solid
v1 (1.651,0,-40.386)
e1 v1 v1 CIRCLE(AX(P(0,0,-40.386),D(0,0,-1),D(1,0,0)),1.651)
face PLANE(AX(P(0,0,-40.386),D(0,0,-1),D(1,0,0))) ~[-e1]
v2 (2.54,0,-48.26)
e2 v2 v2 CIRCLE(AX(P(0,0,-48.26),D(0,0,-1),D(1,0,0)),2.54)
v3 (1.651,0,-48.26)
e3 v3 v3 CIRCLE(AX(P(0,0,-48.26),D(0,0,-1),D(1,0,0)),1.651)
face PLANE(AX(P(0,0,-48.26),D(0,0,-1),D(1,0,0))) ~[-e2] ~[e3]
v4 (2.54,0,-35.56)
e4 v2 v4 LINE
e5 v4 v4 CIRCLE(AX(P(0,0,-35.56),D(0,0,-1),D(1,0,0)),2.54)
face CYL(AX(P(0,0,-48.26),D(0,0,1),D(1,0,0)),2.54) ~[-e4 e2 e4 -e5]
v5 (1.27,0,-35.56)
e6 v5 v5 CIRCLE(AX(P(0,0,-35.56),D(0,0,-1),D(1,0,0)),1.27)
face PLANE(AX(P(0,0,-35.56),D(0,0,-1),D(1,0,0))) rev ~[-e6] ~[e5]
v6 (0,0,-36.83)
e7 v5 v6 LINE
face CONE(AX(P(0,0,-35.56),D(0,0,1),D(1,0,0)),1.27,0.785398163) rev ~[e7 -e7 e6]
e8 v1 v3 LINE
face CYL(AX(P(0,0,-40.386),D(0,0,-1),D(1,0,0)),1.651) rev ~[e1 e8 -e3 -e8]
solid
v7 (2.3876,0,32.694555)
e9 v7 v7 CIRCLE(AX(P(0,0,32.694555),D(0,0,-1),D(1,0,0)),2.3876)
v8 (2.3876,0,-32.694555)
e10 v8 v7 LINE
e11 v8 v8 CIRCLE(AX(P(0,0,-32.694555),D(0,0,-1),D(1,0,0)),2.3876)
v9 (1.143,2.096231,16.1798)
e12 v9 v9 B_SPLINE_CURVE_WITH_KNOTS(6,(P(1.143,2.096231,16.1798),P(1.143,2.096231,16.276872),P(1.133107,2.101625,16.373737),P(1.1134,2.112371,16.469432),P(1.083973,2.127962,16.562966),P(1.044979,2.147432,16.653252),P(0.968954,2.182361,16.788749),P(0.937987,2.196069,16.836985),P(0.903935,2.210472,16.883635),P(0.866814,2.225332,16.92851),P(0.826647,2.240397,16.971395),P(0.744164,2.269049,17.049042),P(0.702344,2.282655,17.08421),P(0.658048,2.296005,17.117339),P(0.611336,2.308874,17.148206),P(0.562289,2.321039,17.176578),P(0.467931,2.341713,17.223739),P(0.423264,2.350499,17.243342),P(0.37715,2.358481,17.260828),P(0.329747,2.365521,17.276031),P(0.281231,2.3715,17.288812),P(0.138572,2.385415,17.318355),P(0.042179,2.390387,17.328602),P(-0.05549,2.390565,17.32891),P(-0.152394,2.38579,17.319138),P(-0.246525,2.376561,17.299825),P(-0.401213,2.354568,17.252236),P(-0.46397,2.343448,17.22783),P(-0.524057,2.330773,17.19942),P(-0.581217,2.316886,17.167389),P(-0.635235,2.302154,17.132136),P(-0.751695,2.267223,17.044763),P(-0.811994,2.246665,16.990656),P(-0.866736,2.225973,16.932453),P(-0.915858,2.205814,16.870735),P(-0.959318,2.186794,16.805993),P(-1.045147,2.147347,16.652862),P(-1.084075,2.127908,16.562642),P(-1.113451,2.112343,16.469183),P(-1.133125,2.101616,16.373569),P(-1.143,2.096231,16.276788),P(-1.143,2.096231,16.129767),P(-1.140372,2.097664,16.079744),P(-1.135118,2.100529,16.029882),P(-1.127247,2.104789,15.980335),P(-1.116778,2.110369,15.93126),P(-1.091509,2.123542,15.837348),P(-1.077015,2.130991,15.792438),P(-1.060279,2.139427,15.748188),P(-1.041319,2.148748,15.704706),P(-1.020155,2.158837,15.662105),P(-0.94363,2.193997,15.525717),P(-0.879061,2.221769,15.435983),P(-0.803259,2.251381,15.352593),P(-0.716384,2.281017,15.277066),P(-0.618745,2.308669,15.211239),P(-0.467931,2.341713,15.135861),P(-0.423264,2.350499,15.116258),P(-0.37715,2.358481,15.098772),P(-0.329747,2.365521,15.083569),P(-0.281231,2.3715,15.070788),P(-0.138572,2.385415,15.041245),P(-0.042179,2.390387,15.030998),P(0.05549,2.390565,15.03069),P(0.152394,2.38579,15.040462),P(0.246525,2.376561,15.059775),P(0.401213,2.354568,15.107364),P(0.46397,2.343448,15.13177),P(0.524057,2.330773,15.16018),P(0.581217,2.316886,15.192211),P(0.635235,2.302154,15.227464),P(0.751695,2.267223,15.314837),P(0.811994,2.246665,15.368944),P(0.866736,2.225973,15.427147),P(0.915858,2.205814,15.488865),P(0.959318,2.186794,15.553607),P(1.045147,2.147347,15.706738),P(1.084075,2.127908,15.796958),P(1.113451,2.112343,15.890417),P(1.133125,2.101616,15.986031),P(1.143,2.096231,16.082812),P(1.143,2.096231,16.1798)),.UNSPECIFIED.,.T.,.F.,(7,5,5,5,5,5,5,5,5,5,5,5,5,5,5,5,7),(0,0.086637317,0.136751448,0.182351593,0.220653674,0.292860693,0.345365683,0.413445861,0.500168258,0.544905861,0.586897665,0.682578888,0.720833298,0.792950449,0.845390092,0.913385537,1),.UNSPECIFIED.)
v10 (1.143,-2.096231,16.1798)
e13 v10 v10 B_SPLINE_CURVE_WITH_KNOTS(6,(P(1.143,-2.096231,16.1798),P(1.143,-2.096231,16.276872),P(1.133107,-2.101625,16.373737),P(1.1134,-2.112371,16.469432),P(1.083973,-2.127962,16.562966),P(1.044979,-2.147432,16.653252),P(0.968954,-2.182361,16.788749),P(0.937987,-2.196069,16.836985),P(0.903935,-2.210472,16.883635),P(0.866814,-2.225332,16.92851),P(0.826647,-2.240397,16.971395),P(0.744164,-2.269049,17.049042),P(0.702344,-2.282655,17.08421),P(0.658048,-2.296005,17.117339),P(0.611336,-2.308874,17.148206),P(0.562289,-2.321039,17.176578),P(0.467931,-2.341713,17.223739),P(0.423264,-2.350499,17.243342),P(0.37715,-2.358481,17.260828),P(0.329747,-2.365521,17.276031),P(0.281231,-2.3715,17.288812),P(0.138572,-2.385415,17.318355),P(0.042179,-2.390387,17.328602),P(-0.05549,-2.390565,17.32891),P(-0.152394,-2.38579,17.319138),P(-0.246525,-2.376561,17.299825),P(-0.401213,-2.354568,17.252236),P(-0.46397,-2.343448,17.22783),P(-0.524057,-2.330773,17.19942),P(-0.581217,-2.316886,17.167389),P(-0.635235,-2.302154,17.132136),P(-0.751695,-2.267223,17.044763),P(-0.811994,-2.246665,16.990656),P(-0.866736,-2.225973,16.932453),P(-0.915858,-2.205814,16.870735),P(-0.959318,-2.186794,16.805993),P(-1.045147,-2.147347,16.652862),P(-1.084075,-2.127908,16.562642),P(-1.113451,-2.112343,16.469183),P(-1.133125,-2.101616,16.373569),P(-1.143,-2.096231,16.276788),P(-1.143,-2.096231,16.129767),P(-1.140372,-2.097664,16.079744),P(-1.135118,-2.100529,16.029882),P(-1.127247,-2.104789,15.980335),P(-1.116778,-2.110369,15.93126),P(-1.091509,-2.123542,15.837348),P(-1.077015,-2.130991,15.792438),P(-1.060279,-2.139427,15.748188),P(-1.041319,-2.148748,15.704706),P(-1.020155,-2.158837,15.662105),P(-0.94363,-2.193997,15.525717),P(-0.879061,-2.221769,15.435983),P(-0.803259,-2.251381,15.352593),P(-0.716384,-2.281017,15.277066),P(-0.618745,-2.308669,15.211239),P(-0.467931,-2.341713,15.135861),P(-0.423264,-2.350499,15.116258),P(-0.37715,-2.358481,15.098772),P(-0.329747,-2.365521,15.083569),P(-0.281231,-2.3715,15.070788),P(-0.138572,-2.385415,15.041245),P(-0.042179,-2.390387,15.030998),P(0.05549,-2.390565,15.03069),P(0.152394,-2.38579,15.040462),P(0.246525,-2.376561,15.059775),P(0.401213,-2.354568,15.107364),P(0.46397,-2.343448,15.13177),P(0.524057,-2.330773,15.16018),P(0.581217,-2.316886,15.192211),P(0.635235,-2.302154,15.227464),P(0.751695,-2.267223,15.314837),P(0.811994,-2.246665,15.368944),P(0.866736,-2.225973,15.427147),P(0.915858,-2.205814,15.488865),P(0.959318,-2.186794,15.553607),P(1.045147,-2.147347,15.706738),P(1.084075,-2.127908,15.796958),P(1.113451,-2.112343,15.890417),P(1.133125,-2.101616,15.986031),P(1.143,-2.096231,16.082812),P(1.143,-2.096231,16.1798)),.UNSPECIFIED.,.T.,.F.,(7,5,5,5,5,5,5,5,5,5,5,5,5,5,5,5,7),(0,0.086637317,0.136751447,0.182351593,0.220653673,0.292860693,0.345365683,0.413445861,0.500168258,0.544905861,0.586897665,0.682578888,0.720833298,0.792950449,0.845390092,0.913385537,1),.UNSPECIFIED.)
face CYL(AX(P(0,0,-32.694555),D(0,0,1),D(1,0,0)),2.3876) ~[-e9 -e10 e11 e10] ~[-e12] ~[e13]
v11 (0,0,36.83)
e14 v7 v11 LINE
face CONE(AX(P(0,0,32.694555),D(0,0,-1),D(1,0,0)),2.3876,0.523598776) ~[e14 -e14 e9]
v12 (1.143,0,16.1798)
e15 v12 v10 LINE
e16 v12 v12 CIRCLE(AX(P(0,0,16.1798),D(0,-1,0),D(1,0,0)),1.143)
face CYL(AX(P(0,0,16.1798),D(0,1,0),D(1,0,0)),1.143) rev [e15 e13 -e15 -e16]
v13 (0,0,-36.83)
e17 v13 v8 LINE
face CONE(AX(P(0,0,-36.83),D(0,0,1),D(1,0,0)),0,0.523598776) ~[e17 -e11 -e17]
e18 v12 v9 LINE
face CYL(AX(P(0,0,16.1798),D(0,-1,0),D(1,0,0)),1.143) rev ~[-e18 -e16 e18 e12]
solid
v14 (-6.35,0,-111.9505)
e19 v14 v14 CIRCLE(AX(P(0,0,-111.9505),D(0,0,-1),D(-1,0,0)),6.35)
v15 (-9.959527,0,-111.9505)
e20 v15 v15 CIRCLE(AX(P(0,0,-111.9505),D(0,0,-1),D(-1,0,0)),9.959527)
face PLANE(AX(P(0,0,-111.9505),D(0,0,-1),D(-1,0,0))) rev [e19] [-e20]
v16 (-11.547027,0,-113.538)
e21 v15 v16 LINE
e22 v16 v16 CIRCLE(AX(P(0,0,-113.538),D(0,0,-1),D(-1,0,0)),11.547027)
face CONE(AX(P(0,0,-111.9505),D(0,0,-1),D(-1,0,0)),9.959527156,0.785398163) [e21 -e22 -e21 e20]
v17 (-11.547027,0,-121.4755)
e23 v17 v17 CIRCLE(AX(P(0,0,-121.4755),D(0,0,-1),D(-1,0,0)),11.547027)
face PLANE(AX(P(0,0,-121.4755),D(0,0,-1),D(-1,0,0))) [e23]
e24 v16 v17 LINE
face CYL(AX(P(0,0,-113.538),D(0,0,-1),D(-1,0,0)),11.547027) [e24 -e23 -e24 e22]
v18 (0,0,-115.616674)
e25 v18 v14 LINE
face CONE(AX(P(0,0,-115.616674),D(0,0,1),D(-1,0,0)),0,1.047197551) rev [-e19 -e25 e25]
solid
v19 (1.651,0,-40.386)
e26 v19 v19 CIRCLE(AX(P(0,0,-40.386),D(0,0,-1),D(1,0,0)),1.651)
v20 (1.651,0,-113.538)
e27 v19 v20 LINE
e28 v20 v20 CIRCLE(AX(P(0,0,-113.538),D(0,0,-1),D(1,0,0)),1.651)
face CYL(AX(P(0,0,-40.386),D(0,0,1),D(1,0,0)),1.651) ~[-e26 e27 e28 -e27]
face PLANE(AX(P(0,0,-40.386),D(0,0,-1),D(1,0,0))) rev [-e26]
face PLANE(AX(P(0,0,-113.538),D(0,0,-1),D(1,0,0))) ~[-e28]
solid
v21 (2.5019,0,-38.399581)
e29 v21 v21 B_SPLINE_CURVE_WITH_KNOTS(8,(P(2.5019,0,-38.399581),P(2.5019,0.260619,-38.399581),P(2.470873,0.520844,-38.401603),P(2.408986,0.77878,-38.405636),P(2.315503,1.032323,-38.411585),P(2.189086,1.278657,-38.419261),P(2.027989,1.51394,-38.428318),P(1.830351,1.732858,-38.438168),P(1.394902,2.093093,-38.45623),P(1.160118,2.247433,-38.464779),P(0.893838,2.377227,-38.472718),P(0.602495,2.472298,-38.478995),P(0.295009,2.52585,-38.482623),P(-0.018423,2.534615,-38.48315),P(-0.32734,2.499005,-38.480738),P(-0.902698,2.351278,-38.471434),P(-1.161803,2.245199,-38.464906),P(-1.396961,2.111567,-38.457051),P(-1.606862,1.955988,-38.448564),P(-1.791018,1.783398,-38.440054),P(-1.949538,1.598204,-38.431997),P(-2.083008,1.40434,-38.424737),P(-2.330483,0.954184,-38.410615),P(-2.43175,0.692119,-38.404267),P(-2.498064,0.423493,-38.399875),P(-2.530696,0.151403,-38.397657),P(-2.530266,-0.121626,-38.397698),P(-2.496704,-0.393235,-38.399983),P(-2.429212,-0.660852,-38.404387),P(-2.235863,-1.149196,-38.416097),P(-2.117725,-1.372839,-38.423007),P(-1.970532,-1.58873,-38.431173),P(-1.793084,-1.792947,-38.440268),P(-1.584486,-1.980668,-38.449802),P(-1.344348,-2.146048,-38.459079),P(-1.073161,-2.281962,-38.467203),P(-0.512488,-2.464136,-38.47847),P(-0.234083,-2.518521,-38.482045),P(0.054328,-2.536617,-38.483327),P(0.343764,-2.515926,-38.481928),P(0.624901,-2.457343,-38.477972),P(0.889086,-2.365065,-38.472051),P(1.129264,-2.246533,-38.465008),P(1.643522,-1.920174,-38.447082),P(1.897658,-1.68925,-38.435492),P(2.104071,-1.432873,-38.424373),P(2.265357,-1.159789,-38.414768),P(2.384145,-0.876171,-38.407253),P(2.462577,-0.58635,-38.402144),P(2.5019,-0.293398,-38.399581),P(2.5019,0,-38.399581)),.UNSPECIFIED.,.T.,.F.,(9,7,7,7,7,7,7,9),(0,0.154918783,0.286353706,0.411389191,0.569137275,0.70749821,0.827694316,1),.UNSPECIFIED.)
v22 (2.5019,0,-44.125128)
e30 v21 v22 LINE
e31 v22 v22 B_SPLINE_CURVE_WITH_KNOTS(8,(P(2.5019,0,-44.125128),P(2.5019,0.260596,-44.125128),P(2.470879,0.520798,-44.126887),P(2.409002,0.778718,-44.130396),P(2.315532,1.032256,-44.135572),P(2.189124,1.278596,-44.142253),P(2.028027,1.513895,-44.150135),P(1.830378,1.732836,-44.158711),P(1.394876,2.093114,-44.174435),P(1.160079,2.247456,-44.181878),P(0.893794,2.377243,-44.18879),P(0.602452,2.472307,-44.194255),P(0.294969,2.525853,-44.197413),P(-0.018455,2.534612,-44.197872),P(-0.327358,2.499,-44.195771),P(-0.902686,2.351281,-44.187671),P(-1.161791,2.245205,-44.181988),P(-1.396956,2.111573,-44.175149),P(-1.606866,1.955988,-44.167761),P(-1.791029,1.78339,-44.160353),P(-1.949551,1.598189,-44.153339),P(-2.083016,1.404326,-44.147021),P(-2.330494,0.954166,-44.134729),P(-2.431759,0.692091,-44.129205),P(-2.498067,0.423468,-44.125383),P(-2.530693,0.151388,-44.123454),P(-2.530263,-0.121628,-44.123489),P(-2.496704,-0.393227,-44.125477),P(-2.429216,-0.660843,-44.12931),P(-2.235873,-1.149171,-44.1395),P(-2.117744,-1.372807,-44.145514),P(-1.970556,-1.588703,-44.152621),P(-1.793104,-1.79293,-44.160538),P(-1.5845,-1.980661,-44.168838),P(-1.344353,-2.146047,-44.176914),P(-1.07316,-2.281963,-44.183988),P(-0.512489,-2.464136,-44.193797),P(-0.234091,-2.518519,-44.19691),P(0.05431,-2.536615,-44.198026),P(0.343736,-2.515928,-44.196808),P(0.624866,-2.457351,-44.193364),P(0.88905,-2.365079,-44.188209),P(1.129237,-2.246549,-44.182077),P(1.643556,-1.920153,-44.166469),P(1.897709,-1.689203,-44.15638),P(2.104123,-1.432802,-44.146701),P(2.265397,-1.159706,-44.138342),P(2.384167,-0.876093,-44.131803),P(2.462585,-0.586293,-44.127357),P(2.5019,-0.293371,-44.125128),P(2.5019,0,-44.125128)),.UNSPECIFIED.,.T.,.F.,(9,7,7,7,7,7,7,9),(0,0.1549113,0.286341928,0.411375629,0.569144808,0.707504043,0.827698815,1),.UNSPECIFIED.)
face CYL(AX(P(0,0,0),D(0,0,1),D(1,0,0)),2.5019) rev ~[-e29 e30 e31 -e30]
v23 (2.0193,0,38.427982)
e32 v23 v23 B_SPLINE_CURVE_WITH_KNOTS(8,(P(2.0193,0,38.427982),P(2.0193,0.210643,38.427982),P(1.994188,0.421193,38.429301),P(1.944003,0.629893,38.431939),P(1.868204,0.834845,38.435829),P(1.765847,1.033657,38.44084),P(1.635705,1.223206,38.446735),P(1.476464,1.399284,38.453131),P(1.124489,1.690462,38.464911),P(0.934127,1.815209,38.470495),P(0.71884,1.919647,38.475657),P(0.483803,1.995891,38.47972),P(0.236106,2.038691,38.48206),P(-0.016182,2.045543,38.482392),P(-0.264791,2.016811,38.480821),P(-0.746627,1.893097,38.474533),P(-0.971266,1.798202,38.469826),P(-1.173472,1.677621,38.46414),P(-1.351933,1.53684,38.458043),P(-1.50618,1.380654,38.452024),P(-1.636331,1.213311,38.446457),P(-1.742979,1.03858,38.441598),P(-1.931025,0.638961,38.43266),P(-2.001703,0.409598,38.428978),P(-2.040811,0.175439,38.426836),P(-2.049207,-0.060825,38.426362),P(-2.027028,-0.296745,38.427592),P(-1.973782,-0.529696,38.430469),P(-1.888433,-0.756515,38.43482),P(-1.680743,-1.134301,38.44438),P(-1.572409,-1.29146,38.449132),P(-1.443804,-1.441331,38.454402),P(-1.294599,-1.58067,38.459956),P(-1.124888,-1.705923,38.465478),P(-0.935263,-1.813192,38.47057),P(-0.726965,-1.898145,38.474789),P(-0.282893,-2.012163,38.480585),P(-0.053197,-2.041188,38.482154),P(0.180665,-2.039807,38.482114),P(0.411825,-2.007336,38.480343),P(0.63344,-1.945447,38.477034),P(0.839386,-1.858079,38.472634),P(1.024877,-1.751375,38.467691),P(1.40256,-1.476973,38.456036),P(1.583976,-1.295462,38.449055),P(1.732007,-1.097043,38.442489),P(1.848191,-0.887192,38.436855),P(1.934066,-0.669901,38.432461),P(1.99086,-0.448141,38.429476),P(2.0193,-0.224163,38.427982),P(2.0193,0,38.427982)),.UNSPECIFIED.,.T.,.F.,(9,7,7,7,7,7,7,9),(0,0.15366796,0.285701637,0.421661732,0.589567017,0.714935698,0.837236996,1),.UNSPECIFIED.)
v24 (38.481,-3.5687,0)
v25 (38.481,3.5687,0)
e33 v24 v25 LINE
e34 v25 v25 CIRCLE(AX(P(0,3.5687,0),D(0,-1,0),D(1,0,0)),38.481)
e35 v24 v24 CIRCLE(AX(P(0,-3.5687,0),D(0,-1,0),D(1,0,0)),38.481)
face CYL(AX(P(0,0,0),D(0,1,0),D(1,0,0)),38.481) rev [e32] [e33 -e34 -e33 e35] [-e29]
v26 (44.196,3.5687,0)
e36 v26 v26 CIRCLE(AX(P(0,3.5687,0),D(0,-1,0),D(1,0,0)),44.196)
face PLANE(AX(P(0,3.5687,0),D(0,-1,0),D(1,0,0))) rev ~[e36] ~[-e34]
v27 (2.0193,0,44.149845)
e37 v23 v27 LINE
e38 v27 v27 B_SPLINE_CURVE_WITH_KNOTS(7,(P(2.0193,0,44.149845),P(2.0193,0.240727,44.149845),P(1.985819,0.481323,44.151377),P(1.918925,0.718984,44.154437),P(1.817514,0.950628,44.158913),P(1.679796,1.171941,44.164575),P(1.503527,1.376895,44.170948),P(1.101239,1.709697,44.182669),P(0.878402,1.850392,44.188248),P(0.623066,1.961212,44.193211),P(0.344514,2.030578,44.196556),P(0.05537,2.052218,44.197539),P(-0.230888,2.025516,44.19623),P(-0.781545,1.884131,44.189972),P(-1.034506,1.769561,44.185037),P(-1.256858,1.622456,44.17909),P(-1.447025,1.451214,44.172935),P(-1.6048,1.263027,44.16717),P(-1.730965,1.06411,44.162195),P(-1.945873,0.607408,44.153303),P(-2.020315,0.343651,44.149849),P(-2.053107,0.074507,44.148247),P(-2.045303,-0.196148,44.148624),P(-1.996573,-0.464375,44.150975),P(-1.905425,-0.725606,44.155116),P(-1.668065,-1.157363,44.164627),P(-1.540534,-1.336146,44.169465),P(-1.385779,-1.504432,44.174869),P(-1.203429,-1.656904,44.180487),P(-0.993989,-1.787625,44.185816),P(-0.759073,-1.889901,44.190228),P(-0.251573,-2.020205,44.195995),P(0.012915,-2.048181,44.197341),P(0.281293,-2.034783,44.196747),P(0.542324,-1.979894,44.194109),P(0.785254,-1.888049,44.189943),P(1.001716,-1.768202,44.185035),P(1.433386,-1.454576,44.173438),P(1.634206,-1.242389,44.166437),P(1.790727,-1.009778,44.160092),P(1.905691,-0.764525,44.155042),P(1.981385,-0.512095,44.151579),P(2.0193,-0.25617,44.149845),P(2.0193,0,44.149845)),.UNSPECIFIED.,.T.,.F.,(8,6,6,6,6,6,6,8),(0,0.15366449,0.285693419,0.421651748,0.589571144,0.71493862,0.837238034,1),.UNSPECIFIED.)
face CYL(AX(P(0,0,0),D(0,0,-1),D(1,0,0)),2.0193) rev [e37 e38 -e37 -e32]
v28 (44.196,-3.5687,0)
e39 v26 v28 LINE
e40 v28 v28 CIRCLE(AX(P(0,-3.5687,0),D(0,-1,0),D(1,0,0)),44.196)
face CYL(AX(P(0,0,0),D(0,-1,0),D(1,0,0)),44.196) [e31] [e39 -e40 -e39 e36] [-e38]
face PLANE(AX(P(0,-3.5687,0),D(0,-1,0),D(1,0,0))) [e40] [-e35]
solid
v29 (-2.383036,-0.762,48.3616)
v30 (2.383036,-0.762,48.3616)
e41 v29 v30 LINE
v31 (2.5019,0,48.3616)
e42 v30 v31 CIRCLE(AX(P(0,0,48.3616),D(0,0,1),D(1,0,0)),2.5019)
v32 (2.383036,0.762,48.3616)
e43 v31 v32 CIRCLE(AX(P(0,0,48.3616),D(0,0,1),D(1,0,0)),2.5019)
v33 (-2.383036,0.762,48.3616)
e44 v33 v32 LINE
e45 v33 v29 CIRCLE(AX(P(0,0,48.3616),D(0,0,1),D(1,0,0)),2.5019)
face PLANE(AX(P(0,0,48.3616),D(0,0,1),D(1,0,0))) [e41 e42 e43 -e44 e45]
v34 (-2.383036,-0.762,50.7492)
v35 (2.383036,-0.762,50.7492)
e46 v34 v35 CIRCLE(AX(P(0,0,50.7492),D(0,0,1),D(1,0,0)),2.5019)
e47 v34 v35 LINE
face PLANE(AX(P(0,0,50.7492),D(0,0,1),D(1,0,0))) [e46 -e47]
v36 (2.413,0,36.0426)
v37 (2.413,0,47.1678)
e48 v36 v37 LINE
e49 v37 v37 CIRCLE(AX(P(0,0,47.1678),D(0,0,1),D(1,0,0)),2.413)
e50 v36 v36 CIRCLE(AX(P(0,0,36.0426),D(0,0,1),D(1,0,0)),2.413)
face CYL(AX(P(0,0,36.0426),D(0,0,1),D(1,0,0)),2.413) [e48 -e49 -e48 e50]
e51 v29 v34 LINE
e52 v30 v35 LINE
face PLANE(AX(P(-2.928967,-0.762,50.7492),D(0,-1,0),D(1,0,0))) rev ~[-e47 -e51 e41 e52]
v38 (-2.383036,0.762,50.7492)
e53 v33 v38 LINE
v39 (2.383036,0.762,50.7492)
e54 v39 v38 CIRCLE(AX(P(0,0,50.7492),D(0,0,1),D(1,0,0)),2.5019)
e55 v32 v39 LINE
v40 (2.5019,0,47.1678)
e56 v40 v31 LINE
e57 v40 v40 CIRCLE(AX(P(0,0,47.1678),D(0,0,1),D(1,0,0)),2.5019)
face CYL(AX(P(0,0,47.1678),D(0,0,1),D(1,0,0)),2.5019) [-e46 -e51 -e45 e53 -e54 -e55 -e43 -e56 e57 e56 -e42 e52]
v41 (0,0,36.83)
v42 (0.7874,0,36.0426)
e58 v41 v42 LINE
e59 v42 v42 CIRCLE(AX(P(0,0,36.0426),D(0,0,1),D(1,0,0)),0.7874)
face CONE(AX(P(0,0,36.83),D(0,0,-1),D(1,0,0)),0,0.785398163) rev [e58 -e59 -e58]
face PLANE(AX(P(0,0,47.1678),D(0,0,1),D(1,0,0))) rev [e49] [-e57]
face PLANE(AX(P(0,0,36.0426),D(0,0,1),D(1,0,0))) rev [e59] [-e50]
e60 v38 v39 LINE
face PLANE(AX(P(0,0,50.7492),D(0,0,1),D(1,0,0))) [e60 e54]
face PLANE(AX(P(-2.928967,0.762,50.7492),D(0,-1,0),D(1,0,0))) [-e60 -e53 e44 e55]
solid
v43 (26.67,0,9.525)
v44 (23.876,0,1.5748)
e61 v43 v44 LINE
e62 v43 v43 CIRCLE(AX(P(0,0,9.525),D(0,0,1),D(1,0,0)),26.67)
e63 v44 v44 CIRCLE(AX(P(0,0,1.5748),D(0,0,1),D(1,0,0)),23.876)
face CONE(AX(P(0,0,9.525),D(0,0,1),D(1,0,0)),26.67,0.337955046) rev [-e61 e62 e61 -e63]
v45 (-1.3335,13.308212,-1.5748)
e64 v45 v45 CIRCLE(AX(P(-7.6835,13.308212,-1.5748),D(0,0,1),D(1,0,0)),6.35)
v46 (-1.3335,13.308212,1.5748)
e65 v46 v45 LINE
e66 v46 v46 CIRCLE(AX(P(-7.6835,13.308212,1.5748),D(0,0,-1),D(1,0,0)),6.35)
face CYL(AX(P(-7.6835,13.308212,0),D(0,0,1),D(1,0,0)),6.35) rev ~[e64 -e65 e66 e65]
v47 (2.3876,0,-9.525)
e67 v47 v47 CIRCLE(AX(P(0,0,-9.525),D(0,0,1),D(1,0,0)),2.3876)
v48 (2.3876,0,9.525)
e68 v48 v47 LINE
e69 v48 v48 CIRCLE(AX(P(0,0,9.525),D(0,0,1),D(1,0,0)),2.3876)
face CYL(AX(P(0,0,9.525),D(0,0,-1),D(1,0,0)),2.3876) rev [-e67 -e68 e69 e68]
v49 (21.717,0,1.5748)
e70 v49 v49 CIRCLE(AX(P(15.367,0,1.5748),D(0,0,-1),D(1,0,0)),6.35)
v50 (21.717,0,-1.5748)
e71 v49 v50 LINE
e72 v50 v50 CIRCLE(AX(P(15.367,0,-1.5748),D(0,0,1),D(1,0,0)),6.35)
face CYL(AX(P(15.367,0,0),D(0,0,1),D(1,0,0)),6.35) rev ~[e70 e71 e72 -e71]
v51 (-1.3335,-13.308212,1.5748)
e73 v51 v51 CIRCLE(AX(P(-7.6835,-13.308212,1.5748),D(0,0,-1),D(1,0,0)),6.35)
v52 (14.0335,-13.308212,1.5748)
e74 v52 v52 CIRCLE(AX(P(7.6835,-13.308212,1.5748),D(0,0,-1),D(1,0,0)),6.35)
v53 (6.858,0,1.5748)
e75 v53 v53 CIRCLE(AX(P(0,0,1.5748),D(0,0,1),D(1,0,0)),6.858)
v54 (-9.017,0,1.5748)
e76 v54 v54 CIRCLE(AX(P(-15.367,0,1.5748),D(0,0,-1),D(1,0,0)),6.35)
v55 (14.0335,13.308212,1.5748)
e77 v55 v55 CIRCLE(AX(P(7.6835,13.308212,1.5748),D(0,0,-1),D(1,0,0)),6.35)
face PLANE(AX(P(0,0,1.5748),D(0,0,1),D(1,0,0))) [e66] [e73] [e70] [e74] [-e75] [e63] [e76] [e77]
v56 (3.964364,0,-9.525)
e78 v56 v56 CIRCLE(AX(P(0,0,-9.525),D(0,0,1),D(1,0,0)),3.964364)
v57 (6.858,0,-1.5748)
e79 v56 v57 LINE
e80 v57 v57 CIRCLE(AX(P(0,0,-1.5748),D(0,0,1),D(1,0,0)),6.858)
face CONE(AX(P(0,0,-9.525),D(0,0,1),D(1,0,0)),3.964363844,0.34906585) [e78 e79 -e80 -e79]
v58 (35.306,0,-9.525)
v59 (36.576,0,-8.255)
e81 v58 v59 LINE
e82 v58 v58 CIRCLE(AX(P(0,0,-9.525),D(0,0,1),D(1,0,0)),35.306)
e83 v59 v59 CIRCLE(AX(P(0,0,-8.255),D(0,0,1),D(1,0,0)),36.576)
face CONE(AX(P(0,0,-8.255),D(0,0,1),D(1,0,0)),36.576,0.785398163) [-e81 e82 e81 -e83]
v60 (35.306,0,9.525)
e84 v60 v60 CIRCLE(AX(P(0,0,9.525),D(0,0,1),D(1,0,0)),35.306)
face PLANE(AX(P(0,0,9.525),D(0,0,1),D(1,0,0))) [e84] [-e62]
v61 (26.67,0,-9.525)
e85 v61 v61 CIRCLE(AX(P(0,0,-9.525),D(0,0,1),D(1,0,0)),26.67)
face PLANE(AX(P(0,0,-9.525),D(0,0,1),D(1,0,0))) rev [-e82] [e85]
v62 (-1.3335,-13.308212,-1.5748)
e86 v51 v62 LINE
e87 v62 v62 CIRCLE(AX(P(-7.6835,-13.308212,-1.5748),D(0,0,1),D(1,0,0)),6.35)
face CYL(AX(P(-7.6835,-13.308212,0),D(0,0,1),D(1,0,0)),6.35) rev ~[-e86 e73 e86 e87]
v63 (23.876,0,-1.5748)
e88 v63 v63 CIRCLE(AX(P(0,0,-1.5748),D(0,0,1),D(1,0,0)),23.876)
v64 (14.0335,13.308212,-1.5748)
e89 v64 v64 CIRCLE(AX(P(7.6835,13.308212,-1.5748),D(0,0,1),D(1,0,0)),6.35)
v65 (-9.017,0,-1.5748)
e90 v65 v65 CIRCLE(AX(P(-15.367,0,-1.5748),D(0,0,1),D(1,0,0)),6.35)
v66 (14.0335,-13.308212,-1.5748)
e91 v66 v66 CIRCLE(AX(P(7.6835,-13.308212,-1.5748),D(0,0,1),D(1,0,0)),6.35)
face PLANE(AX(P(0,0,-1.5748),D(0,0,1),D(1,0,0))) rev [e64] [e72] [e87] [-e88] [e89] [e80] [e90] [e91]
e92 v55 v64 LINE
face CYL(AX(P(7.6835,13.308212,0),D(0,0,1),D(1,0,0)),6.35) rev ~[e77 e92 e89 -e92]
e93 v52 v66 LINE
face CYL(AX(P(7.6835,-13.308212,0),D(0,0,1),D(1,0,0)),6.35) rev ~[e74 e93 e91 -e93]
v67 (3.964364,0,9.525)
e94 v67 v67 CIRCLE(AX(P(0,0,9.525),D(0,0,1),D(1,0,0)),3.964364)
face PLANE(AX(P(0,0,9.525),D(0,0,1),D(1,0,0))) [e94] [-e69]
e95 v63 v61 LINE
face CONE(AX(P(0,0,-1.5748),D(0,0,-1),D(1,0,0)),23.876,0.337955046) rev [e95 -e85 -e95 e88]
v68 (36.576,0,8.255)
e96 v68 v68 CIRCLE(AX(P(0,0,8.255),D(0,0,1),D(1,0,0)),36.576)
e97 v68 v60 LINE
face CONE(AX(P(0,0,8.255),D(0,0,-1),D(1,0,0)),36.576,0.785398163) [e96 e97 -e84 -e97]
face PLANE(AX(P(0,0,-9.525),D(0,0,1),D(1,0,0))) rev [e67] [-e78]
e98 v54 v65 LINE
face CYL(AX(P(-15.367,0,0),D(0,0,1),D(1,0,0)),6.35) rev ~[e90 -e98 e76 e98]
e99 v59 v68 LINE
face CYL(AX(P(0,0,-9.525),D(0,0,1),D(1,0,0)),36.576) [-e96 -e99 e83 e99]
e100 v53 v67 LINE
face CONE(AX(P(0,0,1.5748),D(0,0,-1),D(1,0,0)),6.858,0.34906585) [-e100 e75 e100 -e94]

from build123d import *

# Parameters (mm, degrees)
F2_R           = 6.35
F3_DEPTH       = 9.526
F3_DEPTH_BACK  = 9.526
F4_R           = 44.196
F4_R_2         = 38.481
F5_DEPTH       = 3.5687
F6_R           = 2.5019
F7_DEPTH       = 44.197
F8_R           = 2.0193
F9_DEPTH       = 44.1970001
F10_SIZE       = 1.27
F13_R          = 1.143
F14_DEPTH      = 25.4
F14_DEPTH_BACK = 25.4
F19_DEPTH      = 73.152
F22_W          = 5.8579339155
F22_H          = 1.524
F23_DEPTH      = 2.3876


with BuildPart() as f1:
    # F0 (on Front) → F1 (revolve)
    with BuildSketch(Plane.XZ):
        Polygon((26.67, -9.525), (36.576, -9.525), (36.576, 9.525), (26.67, 9.525), (23.876, 1.5748), (6.858, 1.5748), (3.9643638435, 9.525), (2.3876, 9.525), (2.3876, -9.525), (3.9643638435, -9.525), (6.858, -1.5748), (23.876, -1.5748), align=None)
    revolve(axis=Axis((0, 0, 0), (0, 0, 1)))

    # F2 (on Top) → F3 (cut, two sides)
    with BuildSketch(Plane.XY) as f3_sk:
        with Locations((15.367, 0)):
            Circle(F2_R)
        with Locations((7.6835, 13.30821238)):
            Circle(F2_R)
        with Locations((-7.6835, 13.30821238)):
            Circle(F2_R)
        with Locations((-15.367, 0)):
            Circle(F2_R)
        with Locations((-7.6835, -13.30821238)):
            Circle(F2_R)
        with Locations((7.6835, -13.30821238)):
            Circle(F2_R)
    extrude(amount=F3_DEPTH, mode=Mode.SUBTRACT)
    extrude(f3_sk.sketch, amount=-F3_DEPTH_BACK, mode=Mode.SUBTRACT)

    # F10
    f10_edges = [f1.edges().sort_by_distance(p)[0] for p in [
        (-36.576, 0, 9.525),
        (-36.576, 0, -9.525),
    ]]
    chamfer(f10_edges, length=F10_SIZE)


with BuildPart() as f5:
    # F4 (on Front) → F5 (new body, symmetric)
    with BuildSketch(Plane.XZ):
        Circle(F4_R)
        Circle(F4_R_2, mode=Mode.SUBTRACT)
    extrude(amount=F5_DEPTH, both=True)

    # F6 (on Top) → F7 (cut, through all)
    with BuildSketch(Plane.XY):
        Circle(F6_R)
    extrude(amount=-F7_DEPTH, mode=Mode.SUBTRACT)

    # F8 (on Top) → F9 (cut, through all)
    with BuildSketch(Plane.XY):
        Circle(F8_R)
    extrude(amount=F9_DEPTH, mode=Mode.SUBTRACT)


with BuildPart() as f12:
    # F11 (on Front) → F12 (revolve)
    with BuildSketch(Plane.XZ):
        Polygon((2.3876, 32.6945554918), (0, 36.83), (0, -36.83), (2.3876, -32.6945554918), align=None)
    revolve(axis=Axis((0, 0, 0), (0, 0, -1)))

    # F13 (on Front) → F14 (cut, two sides)
    with BuildSketch(Plane.XZ) as f14_sk:
        with Locations((0, 16.1798)):
            Circle(F13_R)
    extrude(amount=-F14_DEPTH, mode=Mode.SUBTRACT)
    extrude(f14_sk.sketch, amount=F14_DEPTH_BACK, mode=Mode.SUBTRACT)


with BuildPart() as f16:
    # F15 (on Front) → F16 (revolve)
    with BuildSketch(Plane.XZ):
        Polygon((2.54, -35.56), (1.27, -35.56), (0, -36.83), (0, -40.386), (1.651, -40.386), (1.651, -48.26), (2.54, -48.26), align=None)
    revolve(axis=Axis((0, 0, -41.91), (0, 0, -1)))


with BuildPart() as f18:
    # F17 (on Front) → F18 (revolve)
    with BuildSketch(Plane.XZ):
        Polygon((0, 36.83), (0.7874, 36.0426), (2.413, 36.0426), (2.413, 47.1678), (2.5019, 47.1678), (2.5019, 50.7492), (0, 50.7492), align=None)
    revolve(axis=Axis((0, 0, 43.3959), (0, 0, 1)))

    # F22 (on face) → F23 (cut)
    with BuildSketch(Plane.XY.offset(50.7492)):
        Rectangle(F22_W, F22_H)
    extrude(amount=-F23_DEPTH, mode=Mode.SUBTRACT)


with BuildPart() as f19:
    # F19 (new): a face of the model
    f19_faces = [f16.part.faces().sort_by_distance(p)[0] for p in [
        (0, 0, -40.386),
    ]]
    extrude(f19_faces, amount=F19_DEPTH)


with BuildPart() as f21:
    # F20 (on Front) → F21 (revolve)
    with BuildSketch(Plane.XZ):
        Polygon((0, -115.6166742094), (-6.35, -111.9505), (-9.9595271558, -111.9505), (-11.5470271558, -113.538), (-11.5470271558, -121.4755), (0, -121.4755), align=None)
    revolve(axis=Axis((0, 0, -116.713), (0, 0, -1)))


solid = Compound([f1.part, f5.part, f12.part, f16.part, f18.part, f19.part, f21.part])
